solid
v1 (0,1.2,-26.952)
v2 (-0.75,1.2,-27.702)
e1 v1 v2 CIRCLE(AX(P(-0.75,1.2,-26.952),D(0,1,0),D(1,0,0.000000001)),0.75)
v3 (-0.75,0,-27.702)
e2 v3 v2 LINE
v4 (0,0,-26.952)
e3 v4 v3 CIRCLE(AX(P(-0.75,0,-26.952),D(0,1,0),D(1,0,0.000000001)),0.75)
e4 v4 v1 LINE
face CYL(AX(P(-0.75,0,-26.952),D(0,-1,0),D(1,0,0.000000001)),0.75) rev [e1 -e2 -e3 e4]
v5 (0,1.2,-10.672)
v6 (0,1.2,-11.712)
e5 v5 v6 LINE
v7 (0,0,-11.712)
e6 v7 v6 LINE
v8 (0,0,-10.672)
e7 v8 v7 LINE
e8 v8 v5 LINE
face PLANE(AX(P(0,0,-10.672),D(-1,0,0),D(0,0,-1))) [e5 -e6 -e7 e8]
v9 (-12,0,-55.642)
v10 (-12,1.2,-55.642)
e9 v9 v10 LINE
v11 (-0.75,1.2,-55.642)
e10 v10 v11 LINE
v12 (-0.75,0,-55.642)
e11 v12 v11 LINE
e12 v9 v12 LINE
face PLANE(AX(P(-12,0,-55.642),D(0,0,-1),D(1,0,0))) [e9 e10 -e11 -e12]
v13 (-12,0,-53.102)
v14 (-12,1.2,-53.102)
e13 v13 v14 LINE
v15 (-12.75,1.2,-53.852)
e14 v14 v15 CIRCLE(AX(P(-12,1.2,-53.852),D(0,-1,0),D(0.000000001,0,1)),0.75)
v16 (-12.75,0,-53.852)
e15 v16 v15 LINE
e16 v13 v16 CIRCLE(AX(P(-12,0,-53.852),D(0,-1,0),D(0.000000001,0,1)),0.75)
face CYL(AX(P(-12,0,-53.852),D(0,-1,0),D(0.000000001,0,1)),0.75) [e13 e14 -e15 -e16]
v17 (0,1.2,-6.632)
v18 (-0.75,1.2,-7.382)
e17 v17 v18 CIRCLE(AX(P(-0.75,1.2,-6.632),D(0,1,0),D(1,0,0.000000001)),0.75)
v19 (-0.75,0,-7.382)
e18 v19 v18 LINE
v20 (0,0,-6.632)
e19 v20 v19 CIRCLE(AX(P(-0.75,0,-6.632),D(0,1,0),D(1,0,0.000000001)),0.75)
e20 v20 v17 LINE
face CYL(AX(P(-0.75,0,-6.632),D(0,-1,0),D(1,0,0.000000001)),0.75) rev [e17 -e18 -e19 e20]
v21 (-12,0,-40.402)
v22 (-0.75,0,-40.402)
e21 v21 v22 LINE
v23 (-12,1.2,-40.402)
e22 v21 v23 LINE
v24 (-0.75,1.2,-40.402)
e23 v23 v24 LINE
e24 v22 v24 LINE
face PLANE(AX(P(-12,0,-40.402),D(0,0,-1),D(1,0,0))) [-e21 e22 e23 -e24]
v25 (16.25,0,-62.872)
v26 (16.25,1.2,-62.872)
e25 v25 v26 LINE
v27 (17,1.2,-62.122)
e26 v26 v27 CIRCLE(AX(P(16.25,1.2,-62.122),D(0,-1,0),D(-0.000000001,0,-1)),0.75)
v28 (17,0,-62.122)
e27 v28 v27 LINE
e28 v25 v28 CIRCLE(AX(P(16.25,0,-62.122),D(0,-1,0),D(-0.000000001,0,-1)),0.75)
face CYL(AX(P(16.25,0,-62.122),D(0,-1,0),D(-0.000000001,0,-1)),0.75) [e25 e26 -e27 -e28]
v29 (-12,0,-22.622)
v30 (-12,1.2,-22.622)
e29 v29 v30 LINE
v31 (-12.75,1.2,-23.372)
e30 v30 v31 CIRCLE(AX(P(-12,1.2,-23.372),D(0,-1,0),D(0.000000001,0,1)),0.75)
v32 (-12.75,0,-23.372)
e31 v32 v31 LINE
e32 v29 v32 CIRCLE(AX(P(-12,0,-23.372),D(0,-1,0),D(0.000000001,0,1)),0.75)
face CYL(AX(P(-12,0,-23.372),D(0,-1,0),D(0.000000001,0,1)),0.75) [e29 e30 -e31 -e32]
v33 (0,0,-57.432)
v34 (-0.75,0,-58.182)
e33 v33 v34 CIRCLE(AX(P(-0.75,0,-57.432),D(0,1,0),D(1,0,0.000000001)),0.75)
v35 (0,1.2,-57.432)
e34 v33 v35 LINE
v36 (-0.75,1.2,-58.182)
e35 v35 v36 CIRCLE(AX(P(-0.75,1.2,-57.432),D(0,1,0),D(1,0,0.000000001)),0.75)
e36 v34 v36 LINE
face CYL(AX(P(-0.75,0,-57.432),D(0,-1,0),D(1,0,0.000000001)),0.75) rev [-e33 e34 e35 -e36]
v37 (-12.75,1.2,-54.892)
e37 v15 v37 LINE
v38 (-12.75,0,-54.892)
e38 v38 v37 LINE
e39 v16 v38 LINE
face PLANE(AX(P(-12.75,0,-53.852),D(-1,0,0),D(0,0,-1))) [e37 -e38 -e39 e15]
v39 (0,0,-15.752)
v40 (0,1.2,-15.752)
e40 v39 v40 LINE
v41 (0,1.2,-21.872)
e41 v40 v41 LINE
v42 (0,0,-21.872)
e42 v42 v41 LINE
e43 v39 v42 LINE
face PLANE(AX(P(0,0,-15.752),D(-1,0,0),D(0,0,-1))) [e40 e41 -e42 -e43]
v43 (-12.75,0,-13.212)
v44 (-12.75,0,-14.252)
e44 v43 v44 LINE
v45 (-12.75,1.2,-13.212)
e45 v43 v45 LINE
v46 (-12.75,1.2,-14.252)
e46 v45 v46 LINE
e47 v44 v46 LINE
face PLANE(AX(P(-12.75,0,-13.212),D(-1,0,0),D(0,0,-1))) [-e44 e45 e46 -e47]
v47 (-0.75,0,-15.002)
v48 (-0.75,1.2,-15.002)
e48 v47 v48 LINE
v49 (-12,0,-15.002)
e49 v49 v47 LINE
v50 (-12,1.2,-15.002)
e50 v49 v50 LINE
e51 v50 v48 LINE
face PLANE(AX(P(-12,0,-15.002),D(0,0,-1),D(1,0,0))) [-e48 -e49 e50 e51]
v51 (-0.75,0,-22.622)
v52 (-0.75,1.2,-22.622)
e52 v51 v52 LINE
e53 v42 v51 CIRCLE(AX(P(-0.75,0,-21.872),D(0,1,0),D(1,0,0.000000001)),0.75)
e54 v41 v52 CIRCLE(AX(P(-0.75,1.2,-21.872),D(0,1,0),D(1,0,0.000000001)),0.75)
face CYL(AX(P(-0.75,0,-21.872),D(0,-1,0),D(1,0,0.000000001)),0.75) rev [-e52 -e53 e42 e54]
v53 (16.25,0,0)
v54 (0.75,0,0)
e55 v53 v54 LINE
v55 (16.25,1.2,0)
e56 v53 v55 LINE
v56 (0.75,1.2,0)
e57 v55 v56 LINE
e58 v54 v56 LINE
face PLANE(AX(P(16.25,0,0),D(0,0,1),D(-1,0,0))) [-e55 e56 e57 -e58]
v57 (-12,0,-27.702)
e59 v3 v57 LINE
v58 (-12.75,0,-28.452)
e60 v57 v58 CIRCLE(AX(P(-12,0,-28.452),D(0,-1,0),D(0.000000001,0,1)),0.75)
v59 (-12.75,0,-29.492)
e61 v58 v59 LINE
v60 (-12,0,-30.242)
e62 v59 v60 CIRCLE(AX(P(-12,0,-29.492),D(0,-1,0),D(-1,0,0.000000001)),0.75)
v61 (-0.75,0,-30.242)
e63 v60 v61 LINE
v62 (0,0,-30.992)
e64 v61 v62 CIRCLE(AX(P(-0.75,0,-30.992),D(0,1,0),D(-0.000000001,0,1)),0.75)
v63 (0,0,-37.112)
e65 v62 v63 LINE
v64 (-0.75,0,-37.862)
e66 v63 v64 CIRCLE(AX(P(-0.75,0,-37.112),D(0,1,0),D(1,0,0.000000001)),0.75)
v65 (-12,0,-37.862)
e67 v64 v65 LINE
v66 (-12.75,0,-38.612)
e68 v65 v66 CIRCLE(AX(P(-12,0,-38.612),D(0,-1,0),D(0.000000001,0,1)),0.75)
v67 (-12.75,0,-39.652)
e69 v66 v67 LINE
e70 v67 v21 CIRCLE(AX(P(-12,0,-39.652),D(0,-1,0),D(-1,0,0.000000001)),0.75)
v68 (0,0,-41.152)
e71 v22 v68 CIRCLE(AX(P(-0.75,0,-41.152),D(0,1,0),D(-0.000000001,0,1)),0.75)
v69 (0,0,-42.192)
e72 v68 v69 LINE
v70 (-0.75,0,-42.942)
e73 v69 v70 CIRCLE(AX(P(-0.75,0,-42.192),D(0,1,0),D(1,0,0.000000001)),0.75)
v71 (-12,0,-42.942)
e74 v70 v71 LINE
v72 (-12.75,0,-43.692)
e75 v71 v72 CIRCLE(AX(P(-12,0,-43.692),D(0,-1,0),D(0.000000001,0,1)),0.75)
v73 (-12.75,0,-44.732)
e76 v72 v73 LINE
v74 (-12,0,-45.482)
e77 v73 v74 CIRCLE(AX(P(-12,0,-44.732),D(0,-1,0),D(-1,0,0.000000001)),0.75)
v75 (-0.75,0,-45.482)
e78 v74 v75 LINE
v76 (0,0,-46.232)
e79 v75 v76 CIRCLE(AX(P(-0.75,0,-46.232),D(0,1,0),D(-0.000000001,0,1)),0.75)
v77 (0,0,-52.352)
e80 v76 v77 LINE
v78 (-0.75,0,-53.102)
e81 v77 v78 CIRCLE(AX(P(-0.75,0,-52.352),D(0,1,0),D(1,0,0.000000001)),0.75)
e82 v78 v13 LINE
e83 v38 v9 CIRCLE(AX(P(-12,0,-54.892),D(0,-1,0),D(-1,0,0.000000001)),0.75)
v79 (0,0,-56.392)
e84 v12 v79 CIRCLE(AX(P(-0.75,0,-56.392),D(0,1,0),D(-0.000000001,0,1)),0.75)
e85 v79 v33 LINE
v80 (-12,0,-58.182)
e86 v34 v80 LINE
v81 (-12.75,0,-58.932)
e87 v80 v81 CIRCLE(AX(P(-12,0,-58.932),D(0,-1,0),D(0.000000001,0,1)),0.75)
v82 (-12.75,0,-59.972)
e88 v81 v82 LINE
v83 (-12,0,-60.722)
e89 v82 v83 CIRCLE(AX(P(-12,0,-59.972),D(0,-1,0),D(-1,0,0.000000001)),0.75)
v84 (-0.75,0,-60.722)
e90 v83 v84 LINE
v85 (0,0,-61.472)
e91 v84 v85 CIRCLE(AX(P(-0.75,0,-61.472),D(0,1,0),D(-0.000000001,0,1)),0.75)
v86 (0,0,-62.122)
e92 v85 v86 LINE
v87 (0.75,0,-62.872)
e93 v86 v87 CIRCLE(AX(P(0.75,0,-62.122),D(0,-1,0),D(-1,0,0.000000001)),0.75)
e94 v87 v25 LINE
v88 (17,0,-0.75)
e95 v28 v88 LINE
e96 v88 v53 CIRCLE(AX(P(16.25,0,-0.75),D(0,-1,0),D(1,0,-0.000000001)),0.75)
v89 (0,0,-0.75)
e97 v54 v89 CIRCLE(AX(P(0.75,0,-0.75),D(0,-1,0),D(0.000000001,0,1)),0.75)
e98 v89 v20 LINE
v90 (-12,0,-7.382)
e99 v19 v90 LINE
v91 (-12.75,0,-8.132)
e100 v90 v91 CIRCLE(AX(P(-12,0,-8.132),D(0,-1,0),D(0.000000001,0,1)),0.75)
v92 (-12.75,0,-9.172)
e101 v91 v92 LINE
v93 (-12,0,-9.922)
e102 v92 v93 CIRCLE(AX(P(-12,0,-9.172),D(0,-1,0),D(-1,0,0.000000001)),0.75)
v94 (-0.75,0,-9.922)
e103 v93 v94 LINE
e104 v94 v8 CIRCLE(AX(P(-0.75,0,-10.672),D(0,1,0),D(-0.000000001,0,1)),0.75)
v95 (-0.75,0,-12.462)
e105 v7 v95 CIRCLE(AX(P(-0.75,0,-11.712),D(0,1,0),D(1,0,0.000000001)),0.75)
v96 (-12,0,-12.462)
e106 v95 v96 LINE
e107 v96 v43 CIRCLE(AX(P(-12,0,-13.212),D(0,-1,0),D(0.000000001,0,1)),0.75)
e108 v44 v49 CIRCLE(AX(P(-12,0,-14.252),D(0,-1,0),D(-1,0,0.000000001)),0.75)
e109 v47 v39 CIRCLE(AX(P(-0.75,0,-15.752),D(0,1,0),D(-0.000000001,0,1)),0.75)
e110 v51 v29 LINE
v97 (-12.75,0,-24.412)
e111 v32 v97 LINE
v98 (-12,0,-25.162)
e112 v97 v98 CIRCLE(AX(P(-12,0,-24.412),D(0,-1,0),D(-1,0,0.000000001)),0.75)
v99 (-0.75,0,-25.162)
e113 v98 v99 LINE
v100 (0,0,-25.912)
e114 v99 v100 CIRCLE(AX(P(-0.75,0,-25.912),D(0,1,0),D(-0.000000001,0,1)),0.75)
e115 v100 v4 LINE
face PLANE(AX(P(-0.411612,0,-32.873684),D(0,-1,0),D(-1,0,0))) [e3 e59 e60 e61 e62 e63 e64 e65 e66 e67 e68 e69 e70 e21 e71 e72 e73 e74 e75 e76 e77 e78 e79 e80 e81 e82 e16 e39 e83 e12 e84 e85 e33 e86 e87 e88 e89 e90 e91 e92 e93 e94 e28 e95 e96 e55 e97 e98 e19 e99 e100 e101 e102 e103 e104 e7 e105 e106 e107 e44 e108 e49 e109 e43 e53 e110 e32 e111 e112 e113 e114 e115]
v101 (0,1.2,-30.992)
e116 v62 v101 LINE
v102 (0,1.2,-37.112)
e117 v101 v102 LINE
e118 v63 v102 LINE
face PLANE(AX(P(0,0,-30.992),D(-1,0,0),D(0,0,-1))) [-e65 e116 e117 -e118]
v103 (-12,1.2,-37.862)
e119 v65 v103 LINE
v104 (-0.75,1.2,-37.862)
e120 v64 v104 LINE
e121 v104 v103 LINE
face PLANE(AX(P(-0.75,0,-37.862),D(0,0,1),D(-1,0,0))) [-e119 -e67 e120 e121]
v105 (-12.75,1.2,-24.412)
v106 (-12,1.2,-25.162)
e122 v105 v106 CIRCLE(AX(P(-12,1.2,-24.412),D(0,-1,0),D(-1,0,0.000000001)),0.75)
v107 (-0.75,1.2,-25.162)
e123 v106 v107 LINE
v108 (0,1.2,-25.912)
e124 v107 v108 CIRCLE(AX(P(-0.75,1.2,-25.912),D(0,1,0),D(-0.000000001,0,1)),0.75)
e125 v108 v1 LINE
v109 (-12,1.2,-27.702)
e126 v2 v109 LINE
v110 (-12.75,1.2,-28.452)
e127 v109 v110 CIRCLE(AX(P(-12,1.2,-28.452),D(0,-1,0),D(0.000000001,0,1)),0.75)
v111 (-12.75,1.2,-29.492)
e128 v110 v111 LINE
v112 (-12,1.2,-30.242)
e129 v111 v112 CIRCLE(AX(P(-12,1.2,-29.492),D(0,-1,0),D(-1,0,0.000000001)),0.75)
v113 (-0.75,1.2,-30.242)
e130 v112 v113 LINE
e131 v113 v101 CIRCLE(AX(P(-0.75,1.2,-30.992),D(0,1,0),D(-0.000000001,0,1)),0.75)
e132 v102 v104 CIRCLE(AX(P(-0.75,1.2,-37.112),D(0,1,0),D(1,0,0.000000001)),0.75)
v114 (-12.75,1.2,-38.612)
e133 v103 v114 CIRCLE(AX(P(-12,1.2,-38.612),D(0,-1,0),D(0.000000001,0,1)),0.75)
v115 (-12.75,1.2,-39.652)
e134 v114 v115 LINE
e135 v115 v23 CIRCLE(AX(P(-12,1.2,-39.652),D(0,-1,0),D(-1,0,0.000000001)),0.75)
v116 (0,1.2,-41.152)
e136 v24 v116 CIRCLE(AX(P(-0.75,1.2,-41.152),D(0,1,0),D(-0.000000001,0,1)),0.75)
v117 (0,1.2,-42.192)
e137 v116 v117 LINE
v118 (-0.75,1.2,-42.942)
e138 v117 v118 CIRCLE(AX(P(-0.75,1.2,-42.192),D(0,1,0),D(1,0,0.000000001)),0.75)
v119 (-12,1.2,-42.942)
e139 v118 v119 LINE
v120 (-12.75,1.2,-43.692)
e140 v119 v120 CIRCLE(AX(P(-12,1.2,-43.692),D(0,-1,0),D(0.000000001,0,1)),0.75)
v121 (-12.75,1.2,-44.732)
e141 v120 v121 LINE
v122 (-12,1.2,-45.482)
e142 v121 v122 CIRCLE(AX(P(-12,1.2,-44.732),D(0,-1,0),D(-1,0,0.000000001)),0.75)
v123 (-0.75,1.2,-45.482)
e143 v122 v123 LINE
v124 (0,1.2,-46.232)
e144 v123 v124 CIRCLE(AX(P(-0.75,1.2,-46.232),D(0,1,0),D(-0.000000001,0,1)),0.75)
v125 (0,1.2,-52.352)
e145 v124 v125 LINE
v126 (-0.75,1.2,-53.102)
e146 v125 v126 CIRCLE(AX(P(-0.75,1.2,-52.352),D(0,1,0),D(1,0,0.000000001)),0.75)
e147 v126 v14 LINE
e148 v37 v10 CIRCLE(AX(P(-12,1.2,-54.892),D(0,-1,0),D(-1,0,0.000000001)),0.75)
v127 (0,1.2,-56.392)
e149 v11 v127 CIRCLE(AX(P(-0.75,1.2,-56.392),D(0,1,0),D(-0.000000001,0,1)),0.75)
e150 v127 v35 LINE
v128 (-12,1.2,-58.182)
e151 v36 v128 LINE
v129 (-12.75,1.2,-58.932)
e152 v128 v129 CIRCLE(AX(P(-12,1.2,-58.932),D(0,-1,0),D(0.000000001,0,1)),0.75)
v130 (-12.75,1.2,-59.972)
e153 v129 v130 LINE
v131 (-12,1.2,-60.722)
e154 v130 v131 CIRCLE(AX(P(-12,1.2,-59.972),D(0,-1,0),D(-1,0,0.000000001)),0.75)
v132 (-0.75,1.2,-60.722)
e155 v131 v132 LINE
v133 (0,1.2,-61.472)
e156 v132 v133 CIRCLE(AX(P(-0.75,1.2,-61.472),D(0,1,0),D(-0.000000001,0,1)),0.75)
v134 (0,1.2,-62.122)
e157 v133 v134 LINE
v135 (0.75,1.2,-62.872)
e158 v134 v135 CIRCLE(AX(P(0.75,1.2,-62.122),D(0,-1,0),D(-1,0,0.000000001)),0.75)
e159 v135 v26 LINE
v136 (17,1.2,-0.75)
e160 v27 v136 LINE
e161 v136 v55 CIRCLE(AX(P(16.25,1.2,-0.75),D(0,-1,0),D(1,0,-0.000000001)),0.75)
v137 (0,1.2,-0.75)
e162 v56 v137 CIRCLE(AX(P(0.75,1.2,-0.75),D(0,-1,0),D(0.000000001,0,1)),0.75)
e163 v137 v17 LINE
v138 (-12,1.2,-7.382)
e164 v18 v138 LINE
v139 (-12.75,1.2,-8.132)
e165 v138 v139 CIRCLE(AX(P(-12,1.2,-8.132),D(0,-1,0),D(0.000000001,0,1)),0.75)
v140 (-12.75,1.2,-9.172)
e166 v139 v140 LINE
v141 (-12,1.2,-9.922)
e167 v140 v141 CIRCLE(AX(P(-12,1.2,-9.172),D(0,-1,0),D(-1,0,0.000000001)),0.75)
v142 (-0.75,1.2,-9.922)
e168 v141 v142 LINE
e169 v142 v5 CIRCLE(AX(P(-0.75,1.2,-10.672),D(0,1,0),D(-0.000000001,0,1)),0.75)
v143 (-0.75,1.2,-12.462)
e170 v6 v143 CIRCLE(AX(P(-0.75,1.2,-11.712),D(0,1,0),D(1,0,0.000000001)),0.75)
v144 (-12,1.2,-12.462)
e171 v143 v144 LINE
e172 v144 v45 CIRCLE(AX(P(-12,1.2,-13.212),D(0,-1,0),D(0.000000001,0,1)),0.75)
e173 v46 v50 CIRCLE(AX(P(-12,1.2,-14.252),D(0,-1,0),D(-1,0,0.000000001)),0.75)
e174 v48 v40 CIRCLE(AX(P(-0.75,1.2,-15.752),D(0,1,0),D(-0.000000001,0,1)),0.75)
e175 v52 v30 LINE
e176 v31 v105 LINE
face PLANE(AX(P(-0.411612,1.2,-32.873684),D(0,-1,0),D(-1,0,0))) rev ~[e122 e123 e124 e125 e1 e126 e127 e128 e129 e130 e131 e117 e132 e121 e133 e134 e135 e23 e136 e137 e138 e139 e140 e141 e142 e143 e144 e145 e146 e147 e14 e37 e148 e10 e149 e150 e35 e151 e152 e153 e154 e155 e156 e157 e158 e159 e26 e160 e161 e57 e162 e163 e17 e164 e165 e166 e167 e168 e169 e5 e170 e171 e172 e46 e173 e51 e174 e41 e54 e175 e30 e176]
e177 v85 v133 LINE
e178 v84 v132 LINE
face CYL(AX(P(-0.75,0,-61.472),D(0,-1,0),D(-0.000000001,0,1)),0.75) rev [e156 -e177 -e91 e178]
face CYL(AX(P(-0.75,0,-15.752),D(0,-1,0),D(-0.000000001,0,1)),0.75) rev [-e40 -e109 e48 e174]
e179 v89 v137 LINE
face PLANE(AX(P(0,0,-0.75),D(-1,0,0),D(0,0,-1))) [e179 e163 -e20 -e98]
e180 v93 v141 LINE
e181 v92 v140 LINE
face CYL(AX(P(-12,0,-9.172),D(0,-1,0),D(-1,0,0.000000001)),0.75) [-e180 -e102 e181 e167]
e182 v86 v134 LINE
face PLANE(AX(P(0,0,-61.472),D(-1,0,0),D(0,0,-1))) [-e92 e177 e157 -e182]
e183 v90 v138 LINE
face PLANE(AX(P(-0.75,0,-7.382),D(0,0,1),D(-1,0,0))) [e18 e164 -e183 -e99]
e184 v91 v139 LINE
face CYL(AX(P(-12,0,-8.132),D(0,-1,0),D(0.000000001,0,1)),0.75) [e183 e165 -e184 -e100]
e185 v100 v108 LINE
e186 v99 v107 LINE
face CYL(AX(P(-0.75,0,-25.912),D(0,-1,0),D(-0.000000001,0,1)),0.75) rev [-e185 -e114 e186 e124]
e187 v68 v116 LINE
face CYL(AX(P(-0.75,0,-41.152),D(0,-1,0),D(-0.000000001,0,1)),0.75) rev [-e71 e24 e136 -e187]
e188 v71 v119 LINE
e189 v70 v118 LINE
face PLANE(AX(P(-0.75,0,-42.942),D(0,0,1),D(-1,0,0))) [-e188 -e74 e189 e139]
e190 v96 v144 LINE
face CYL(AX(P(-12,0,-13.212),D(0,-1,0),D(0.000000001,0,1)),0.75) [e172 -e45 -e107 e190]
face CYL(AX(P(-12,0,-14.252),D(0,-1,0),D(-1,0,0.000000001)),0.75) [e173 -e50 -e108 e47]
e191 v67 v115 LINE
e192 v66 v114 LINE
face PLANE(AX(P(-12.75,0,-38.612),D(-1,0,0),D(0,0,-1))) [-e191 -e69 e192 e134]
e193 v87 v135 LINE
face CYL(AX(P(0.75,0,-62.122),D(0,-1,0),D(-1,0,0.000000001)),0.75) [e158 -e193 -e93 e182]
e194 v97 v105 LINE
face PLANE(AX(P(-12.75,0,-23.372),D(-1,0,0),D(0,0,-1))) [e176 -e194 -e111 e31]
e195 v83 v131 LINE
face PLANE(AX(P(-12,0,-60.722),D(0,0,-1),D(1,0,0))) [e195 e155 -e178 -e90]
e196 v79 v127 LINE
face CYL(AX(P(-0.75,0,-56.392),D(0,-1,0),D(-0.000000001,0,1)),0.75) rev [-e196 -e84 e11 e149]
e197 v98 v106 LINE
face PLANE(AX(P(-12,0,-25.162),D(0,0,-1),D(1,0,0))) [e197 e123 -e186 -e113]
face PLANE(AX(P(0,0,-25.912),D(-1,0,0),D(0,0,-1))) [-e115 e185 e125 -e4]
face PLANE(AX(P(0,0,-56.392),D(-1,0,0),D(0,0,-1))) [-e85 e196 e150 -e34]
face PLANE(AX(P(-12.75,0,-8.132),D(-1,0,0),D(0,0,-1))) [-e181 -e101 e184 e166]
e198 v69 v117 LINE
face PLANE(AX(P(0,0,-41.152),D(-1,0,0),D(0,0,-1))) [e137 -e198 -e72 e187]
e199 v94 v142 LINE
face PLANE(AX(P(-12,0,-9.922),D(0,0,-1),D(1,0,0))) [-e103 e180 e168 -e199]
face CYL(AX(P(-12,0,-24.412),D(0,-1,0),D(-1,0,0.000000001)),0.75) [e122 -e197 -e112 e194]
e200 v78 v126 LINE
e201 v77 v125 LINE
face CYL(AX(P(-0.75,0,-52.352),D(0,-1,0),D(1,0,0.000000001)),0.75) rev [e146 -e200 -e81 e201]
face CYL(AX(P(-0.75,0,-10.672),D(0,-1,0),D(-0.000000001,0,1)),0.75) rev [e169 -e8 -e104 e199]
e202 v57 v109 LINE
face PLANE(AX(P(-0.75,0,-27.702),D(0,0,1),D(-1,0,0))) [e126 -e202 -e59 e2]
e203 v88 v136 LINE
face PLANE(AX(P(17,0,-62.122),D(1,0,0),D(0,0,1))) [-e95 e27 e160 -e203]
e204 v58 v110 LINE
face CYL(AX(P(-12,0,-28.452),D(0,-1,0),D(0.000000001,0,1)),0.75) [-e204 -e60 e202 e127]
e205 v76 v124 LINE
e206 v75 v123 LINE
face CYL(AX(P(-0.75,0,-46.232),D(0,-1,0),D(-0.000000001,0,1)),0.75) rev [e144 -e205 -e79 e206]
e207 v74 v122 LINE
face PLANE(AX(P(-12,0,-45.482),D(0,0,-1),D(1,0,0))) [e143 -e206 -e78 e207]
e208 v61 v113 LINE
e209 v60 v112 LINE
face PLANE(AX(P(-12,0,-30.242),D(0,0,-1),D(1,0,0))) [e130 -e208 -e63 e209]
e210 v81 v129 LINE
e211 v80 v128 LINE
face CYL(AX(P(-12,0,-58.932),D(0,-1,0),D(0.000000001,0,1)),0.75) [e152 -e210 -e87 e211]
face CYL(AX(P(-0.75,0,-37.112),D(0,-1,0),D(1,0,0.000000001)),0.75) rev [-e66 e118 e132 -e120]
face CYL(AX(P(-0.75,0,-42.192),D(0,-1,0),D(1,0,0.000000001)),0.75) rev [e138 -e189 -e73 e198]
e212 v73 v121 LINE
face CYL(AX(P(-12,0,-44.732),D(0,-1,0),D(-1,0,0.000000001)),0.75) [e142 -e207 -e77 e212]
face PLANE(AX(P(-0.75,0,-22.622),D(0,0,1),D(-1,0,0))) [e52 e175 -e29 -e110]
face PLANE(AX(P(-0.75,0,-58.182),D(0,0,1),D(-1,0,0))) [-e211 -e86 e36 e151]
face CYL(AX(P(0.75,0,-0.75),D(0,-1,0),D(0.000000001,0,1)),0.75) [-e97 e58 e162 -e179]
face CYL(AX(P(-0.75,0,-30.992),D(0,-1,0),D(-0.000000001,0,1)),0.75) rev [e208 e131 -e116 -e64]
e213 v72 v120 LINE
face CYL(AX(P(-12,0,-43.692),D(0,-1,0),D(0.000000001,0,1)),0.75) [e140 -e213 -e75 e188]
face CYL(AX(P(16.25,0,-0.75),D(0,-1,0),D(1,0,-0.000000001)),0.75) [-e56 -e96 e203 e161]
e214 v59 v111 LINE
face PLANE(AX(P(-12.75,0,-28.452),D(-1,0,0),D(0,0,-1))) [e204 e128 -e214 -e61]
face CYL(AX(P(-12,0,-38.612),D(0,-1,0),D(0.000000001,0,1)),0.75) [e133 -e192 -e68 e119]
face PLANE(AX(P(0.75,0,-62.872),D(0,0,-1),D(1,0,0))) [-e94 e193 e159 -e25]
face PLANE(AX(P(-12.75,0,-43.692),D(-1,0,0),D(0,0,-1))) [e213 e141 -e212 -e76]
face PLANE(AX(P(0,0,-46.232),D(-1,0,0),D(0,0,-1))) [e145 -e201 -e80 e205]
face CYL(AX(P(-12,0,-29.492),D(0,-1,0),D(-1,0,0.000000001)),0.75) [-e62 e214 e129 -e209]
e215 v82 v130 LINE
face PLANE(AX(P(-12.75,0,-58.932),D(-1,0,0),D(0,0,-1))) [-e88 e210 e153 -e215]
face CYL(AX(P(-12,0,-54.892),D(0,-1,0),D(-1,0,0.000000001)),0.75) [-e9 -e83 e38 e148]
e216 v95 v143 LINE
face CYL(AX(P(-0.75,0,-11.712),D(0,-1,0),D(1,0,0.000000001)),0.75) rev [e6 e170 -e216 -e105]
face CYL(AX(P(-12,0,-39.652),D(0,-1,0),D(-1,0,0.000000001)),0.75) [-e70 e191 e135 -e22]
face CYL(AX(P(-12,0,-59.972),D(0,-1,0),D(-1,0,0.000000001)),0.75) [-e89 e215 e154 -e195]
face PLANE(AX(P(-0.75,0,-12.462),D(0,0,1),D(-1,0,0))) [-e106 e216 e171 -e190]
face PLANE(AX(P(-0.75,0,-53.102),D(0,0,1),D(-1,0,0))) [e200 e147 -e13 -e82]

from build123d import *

# Parameters (mm, degrees)
BOSS_EXTRUDE1_DEPTH = 1.2


with BuildPart() as part:
    # Sketch1 → Boss-Extrude1 (new body)
    with BuildSketch(Plane(origin=(0, 0, 0), x_dir=(1, 0, 0), z_dir=(0, 1, 0))):
        with BuildLine():
            Line((-0.75, 7.382), (-12, 7.382))
            ThreePointArc((-12, 7.382), (-12.530330086, 7.601669914), (-12.75, 8.132))
            Line((-12.75, 8.132), (-12.75, 9.172))
            ThreePointArc((-12.75, 9.172), (-12.530330086, 9.702330086), (-12, 9.922))
            Line((-12, 9.922), (-0.75, 9.922))
            ThreePointArc((-0.75, 9.922), (-0.219669914, 10.141669914), (0, 10.672))
            Line((0, 10.672), (0, 11.712))
            ThreePointArc((0, 11.712), (-0.219669914, 12.242330086), (-0.75, 12.462))
            Line((-0.75, 12.462), (-12, 12.462))
            ThreePointArc((-12, 12.462), (-12.530330086, 12.681669914), (-12.75, 13.212))
            Line((-12.75, 13.212), (-12.75, 14.252))
            ThreePointArc((-12.75, 14.252), (-12.530330086, 14.782330086), (-12, 15.002))
            Line((-12, 15.002), (-0.75, 15.002))
            ThreePointArc((-0.75, 15.002), (-0.219669914, 15.221669914), (0, 15.752))
            Line((0, 15.752), (0, 21.872))
            ThreePointArc((0, 21.872), (-0.219669914, 22.402330086), (-0.75, 22.622))
            Line((-0.75, 22.622), (-12, 22.622))
            ThreePointArc((-12, 22.622), (-12.530330086, 22.841669914), (-12.75, 23.372))
            Line((-12.75, 23.372), (-12.75, 24.412))
            ThreePointArc((-12.75, 24.412), (-12.530330086, 24.942330086), (-12, 25.162))
            Line((-12, 25.162), (-0.75, 25.162))
            ThreePointArc((-0.75, 25.162), (-0.219669914, 25.381669914), (0, 25.912))
            Line((0, 25.912), (0, 26.952))
            ThreePointArc((0, 26.952), (-0.219669914, 27.482330086), (-0.75, 27.702))
            Line((-0.75, 27.702), (-12, 27.702))
            ThreePointArc((-12, 27.702), (-12.530330086, 27.921669914), (-12.75, 28.452))
            Line((-12.75, 28.452), (-12.75, 29.492))
            ThreePointArc((-12.75, 29.492), (-12.530330086, 30.022330086), (-12, 30.242))
            Line((-12, 30.242), (-0.75, 30.242))
            ThreePointArc((-0.75, 30.242), (-0.219669914, 30.461669914), (0, 30.992))
            Line((0, 30.992), (0, 37.112))
            ThreePointArc((0, 37.112), (-0.219669914, 37.642330086), (-0.75, 37.862))
            Line((-0.75, 37.862), (-12, 37.862))
            ThreePointArc((-12, 37.862), (-12.530330086, 38.081669914), (-12.75, 38.612))
            Line((-12.75, 38.612), (-12.75, 39.652))
            ThreePointArc((-12.75, 39.652), (-12.530330086, 40.182330086), (-12, 40.402))
            Line((-12, 40.402), (-0.75, 40.402))
            ThreePointArc((-0.75, 40.402), (-0.219669914, 40.621669914), (0, 41.152))
            Line((0, 41.152), (0, 42.192))
            ThreePointArc((0, 42.192), (-0.219669914, 42.722330086), (-0.75, 42.942))
            Line((-0.75, 42.942), (-12, 42.942))
            ThreePointArc((-12, 42.942), (-12.530330086, 43.161669914), (-12.75, 43.692))
            Line((-12.75, 43.692), (-12.75, 44.732))
            ThreePointArc((-12.75, 44.732), (-12.530330086, 45.262330086), (-12, 45.482))
            Line((-12, 45.482), (-0.75, 45.482))
            ThreePointArc((-0.75, 45.482), (-0.219669914, 45.701669914), (0, 46.232))
            Line((0, 46.232), (0, 52.352))
            ThreePointArc((0, 52.352), (-0.219669914, 52.882330086), (-0.75, 53.102))
            Line((-0.75, 53.102), (-12, 53.102))
            ThreePointArc((-12, 53.102), (-12.530330086, 53.321669914), (-12.75, 53.852))
            Line((-12.75, 53.852), (-12.75, 54.892))
            ThreePointArc((-12.75, 54.892), (-12.530330086, 55.422330086), (-12, 55.642))
            Line((-12, 55.642), (-0.75, 55.642))
            ThreePointArc((-0.75, 55.642), (-0.219669914, 55.861669914), (0, 56.392))
            Line((0, 56.392), (0, 57.432))
            ThreePointArc((0, 57.432), (-0.219669914, 57.962330086), (-0.75, 58.182))
            Line((-0.75, 58.182), (-12, 58.182))
            ThreePointArc((-12, 58.182), (-12.530330086, 58.401669914), (-12.75, 58.932))
            Line((-12.75, 58.932), (-12.75, 59.972))
            ThreePointArc((-12.75, 59.972), (-12.530330086, 60.502330086), (-12, 60.722))
            Line((-12, 60.722), (-0.75, 60.722))
            ThreePointArc((-0.75, 60.722), (-0.219669914, 60.941669914), (0, 61.472))
            Line((0, 61.472), (0, 62.122))
            ThreePointArc((0, 62.122), (0.219669914, 62.652330086), (0.75, 62.872))
            Line((0.75, 62.872), (16.25, 62.872))
            ThreePointArc((16.25, 62.872), (16.780330086, 62.652330086), (17, 62.122))
            Line((17, 62.122), (17, 0.75))
            ThreePointArc((17, 0.75), (16.780330086, 0.219669914), (16.25, 0))
            Line((16.25, 0), (0.75, 0))
            ThreePointArc((0.75, 0), (0.219669914, 0.219669914), (0, 0.75))
            Line((0, 0.75), (0, 6.632))
            ThreePointArc((0, 6.632), (-0.219669914, 7.162330086), (-0.75, 7.382))
        make_face()
    extrude(amount=BOSS_EXTRUDE1_DEPTH)


solid = part.part
